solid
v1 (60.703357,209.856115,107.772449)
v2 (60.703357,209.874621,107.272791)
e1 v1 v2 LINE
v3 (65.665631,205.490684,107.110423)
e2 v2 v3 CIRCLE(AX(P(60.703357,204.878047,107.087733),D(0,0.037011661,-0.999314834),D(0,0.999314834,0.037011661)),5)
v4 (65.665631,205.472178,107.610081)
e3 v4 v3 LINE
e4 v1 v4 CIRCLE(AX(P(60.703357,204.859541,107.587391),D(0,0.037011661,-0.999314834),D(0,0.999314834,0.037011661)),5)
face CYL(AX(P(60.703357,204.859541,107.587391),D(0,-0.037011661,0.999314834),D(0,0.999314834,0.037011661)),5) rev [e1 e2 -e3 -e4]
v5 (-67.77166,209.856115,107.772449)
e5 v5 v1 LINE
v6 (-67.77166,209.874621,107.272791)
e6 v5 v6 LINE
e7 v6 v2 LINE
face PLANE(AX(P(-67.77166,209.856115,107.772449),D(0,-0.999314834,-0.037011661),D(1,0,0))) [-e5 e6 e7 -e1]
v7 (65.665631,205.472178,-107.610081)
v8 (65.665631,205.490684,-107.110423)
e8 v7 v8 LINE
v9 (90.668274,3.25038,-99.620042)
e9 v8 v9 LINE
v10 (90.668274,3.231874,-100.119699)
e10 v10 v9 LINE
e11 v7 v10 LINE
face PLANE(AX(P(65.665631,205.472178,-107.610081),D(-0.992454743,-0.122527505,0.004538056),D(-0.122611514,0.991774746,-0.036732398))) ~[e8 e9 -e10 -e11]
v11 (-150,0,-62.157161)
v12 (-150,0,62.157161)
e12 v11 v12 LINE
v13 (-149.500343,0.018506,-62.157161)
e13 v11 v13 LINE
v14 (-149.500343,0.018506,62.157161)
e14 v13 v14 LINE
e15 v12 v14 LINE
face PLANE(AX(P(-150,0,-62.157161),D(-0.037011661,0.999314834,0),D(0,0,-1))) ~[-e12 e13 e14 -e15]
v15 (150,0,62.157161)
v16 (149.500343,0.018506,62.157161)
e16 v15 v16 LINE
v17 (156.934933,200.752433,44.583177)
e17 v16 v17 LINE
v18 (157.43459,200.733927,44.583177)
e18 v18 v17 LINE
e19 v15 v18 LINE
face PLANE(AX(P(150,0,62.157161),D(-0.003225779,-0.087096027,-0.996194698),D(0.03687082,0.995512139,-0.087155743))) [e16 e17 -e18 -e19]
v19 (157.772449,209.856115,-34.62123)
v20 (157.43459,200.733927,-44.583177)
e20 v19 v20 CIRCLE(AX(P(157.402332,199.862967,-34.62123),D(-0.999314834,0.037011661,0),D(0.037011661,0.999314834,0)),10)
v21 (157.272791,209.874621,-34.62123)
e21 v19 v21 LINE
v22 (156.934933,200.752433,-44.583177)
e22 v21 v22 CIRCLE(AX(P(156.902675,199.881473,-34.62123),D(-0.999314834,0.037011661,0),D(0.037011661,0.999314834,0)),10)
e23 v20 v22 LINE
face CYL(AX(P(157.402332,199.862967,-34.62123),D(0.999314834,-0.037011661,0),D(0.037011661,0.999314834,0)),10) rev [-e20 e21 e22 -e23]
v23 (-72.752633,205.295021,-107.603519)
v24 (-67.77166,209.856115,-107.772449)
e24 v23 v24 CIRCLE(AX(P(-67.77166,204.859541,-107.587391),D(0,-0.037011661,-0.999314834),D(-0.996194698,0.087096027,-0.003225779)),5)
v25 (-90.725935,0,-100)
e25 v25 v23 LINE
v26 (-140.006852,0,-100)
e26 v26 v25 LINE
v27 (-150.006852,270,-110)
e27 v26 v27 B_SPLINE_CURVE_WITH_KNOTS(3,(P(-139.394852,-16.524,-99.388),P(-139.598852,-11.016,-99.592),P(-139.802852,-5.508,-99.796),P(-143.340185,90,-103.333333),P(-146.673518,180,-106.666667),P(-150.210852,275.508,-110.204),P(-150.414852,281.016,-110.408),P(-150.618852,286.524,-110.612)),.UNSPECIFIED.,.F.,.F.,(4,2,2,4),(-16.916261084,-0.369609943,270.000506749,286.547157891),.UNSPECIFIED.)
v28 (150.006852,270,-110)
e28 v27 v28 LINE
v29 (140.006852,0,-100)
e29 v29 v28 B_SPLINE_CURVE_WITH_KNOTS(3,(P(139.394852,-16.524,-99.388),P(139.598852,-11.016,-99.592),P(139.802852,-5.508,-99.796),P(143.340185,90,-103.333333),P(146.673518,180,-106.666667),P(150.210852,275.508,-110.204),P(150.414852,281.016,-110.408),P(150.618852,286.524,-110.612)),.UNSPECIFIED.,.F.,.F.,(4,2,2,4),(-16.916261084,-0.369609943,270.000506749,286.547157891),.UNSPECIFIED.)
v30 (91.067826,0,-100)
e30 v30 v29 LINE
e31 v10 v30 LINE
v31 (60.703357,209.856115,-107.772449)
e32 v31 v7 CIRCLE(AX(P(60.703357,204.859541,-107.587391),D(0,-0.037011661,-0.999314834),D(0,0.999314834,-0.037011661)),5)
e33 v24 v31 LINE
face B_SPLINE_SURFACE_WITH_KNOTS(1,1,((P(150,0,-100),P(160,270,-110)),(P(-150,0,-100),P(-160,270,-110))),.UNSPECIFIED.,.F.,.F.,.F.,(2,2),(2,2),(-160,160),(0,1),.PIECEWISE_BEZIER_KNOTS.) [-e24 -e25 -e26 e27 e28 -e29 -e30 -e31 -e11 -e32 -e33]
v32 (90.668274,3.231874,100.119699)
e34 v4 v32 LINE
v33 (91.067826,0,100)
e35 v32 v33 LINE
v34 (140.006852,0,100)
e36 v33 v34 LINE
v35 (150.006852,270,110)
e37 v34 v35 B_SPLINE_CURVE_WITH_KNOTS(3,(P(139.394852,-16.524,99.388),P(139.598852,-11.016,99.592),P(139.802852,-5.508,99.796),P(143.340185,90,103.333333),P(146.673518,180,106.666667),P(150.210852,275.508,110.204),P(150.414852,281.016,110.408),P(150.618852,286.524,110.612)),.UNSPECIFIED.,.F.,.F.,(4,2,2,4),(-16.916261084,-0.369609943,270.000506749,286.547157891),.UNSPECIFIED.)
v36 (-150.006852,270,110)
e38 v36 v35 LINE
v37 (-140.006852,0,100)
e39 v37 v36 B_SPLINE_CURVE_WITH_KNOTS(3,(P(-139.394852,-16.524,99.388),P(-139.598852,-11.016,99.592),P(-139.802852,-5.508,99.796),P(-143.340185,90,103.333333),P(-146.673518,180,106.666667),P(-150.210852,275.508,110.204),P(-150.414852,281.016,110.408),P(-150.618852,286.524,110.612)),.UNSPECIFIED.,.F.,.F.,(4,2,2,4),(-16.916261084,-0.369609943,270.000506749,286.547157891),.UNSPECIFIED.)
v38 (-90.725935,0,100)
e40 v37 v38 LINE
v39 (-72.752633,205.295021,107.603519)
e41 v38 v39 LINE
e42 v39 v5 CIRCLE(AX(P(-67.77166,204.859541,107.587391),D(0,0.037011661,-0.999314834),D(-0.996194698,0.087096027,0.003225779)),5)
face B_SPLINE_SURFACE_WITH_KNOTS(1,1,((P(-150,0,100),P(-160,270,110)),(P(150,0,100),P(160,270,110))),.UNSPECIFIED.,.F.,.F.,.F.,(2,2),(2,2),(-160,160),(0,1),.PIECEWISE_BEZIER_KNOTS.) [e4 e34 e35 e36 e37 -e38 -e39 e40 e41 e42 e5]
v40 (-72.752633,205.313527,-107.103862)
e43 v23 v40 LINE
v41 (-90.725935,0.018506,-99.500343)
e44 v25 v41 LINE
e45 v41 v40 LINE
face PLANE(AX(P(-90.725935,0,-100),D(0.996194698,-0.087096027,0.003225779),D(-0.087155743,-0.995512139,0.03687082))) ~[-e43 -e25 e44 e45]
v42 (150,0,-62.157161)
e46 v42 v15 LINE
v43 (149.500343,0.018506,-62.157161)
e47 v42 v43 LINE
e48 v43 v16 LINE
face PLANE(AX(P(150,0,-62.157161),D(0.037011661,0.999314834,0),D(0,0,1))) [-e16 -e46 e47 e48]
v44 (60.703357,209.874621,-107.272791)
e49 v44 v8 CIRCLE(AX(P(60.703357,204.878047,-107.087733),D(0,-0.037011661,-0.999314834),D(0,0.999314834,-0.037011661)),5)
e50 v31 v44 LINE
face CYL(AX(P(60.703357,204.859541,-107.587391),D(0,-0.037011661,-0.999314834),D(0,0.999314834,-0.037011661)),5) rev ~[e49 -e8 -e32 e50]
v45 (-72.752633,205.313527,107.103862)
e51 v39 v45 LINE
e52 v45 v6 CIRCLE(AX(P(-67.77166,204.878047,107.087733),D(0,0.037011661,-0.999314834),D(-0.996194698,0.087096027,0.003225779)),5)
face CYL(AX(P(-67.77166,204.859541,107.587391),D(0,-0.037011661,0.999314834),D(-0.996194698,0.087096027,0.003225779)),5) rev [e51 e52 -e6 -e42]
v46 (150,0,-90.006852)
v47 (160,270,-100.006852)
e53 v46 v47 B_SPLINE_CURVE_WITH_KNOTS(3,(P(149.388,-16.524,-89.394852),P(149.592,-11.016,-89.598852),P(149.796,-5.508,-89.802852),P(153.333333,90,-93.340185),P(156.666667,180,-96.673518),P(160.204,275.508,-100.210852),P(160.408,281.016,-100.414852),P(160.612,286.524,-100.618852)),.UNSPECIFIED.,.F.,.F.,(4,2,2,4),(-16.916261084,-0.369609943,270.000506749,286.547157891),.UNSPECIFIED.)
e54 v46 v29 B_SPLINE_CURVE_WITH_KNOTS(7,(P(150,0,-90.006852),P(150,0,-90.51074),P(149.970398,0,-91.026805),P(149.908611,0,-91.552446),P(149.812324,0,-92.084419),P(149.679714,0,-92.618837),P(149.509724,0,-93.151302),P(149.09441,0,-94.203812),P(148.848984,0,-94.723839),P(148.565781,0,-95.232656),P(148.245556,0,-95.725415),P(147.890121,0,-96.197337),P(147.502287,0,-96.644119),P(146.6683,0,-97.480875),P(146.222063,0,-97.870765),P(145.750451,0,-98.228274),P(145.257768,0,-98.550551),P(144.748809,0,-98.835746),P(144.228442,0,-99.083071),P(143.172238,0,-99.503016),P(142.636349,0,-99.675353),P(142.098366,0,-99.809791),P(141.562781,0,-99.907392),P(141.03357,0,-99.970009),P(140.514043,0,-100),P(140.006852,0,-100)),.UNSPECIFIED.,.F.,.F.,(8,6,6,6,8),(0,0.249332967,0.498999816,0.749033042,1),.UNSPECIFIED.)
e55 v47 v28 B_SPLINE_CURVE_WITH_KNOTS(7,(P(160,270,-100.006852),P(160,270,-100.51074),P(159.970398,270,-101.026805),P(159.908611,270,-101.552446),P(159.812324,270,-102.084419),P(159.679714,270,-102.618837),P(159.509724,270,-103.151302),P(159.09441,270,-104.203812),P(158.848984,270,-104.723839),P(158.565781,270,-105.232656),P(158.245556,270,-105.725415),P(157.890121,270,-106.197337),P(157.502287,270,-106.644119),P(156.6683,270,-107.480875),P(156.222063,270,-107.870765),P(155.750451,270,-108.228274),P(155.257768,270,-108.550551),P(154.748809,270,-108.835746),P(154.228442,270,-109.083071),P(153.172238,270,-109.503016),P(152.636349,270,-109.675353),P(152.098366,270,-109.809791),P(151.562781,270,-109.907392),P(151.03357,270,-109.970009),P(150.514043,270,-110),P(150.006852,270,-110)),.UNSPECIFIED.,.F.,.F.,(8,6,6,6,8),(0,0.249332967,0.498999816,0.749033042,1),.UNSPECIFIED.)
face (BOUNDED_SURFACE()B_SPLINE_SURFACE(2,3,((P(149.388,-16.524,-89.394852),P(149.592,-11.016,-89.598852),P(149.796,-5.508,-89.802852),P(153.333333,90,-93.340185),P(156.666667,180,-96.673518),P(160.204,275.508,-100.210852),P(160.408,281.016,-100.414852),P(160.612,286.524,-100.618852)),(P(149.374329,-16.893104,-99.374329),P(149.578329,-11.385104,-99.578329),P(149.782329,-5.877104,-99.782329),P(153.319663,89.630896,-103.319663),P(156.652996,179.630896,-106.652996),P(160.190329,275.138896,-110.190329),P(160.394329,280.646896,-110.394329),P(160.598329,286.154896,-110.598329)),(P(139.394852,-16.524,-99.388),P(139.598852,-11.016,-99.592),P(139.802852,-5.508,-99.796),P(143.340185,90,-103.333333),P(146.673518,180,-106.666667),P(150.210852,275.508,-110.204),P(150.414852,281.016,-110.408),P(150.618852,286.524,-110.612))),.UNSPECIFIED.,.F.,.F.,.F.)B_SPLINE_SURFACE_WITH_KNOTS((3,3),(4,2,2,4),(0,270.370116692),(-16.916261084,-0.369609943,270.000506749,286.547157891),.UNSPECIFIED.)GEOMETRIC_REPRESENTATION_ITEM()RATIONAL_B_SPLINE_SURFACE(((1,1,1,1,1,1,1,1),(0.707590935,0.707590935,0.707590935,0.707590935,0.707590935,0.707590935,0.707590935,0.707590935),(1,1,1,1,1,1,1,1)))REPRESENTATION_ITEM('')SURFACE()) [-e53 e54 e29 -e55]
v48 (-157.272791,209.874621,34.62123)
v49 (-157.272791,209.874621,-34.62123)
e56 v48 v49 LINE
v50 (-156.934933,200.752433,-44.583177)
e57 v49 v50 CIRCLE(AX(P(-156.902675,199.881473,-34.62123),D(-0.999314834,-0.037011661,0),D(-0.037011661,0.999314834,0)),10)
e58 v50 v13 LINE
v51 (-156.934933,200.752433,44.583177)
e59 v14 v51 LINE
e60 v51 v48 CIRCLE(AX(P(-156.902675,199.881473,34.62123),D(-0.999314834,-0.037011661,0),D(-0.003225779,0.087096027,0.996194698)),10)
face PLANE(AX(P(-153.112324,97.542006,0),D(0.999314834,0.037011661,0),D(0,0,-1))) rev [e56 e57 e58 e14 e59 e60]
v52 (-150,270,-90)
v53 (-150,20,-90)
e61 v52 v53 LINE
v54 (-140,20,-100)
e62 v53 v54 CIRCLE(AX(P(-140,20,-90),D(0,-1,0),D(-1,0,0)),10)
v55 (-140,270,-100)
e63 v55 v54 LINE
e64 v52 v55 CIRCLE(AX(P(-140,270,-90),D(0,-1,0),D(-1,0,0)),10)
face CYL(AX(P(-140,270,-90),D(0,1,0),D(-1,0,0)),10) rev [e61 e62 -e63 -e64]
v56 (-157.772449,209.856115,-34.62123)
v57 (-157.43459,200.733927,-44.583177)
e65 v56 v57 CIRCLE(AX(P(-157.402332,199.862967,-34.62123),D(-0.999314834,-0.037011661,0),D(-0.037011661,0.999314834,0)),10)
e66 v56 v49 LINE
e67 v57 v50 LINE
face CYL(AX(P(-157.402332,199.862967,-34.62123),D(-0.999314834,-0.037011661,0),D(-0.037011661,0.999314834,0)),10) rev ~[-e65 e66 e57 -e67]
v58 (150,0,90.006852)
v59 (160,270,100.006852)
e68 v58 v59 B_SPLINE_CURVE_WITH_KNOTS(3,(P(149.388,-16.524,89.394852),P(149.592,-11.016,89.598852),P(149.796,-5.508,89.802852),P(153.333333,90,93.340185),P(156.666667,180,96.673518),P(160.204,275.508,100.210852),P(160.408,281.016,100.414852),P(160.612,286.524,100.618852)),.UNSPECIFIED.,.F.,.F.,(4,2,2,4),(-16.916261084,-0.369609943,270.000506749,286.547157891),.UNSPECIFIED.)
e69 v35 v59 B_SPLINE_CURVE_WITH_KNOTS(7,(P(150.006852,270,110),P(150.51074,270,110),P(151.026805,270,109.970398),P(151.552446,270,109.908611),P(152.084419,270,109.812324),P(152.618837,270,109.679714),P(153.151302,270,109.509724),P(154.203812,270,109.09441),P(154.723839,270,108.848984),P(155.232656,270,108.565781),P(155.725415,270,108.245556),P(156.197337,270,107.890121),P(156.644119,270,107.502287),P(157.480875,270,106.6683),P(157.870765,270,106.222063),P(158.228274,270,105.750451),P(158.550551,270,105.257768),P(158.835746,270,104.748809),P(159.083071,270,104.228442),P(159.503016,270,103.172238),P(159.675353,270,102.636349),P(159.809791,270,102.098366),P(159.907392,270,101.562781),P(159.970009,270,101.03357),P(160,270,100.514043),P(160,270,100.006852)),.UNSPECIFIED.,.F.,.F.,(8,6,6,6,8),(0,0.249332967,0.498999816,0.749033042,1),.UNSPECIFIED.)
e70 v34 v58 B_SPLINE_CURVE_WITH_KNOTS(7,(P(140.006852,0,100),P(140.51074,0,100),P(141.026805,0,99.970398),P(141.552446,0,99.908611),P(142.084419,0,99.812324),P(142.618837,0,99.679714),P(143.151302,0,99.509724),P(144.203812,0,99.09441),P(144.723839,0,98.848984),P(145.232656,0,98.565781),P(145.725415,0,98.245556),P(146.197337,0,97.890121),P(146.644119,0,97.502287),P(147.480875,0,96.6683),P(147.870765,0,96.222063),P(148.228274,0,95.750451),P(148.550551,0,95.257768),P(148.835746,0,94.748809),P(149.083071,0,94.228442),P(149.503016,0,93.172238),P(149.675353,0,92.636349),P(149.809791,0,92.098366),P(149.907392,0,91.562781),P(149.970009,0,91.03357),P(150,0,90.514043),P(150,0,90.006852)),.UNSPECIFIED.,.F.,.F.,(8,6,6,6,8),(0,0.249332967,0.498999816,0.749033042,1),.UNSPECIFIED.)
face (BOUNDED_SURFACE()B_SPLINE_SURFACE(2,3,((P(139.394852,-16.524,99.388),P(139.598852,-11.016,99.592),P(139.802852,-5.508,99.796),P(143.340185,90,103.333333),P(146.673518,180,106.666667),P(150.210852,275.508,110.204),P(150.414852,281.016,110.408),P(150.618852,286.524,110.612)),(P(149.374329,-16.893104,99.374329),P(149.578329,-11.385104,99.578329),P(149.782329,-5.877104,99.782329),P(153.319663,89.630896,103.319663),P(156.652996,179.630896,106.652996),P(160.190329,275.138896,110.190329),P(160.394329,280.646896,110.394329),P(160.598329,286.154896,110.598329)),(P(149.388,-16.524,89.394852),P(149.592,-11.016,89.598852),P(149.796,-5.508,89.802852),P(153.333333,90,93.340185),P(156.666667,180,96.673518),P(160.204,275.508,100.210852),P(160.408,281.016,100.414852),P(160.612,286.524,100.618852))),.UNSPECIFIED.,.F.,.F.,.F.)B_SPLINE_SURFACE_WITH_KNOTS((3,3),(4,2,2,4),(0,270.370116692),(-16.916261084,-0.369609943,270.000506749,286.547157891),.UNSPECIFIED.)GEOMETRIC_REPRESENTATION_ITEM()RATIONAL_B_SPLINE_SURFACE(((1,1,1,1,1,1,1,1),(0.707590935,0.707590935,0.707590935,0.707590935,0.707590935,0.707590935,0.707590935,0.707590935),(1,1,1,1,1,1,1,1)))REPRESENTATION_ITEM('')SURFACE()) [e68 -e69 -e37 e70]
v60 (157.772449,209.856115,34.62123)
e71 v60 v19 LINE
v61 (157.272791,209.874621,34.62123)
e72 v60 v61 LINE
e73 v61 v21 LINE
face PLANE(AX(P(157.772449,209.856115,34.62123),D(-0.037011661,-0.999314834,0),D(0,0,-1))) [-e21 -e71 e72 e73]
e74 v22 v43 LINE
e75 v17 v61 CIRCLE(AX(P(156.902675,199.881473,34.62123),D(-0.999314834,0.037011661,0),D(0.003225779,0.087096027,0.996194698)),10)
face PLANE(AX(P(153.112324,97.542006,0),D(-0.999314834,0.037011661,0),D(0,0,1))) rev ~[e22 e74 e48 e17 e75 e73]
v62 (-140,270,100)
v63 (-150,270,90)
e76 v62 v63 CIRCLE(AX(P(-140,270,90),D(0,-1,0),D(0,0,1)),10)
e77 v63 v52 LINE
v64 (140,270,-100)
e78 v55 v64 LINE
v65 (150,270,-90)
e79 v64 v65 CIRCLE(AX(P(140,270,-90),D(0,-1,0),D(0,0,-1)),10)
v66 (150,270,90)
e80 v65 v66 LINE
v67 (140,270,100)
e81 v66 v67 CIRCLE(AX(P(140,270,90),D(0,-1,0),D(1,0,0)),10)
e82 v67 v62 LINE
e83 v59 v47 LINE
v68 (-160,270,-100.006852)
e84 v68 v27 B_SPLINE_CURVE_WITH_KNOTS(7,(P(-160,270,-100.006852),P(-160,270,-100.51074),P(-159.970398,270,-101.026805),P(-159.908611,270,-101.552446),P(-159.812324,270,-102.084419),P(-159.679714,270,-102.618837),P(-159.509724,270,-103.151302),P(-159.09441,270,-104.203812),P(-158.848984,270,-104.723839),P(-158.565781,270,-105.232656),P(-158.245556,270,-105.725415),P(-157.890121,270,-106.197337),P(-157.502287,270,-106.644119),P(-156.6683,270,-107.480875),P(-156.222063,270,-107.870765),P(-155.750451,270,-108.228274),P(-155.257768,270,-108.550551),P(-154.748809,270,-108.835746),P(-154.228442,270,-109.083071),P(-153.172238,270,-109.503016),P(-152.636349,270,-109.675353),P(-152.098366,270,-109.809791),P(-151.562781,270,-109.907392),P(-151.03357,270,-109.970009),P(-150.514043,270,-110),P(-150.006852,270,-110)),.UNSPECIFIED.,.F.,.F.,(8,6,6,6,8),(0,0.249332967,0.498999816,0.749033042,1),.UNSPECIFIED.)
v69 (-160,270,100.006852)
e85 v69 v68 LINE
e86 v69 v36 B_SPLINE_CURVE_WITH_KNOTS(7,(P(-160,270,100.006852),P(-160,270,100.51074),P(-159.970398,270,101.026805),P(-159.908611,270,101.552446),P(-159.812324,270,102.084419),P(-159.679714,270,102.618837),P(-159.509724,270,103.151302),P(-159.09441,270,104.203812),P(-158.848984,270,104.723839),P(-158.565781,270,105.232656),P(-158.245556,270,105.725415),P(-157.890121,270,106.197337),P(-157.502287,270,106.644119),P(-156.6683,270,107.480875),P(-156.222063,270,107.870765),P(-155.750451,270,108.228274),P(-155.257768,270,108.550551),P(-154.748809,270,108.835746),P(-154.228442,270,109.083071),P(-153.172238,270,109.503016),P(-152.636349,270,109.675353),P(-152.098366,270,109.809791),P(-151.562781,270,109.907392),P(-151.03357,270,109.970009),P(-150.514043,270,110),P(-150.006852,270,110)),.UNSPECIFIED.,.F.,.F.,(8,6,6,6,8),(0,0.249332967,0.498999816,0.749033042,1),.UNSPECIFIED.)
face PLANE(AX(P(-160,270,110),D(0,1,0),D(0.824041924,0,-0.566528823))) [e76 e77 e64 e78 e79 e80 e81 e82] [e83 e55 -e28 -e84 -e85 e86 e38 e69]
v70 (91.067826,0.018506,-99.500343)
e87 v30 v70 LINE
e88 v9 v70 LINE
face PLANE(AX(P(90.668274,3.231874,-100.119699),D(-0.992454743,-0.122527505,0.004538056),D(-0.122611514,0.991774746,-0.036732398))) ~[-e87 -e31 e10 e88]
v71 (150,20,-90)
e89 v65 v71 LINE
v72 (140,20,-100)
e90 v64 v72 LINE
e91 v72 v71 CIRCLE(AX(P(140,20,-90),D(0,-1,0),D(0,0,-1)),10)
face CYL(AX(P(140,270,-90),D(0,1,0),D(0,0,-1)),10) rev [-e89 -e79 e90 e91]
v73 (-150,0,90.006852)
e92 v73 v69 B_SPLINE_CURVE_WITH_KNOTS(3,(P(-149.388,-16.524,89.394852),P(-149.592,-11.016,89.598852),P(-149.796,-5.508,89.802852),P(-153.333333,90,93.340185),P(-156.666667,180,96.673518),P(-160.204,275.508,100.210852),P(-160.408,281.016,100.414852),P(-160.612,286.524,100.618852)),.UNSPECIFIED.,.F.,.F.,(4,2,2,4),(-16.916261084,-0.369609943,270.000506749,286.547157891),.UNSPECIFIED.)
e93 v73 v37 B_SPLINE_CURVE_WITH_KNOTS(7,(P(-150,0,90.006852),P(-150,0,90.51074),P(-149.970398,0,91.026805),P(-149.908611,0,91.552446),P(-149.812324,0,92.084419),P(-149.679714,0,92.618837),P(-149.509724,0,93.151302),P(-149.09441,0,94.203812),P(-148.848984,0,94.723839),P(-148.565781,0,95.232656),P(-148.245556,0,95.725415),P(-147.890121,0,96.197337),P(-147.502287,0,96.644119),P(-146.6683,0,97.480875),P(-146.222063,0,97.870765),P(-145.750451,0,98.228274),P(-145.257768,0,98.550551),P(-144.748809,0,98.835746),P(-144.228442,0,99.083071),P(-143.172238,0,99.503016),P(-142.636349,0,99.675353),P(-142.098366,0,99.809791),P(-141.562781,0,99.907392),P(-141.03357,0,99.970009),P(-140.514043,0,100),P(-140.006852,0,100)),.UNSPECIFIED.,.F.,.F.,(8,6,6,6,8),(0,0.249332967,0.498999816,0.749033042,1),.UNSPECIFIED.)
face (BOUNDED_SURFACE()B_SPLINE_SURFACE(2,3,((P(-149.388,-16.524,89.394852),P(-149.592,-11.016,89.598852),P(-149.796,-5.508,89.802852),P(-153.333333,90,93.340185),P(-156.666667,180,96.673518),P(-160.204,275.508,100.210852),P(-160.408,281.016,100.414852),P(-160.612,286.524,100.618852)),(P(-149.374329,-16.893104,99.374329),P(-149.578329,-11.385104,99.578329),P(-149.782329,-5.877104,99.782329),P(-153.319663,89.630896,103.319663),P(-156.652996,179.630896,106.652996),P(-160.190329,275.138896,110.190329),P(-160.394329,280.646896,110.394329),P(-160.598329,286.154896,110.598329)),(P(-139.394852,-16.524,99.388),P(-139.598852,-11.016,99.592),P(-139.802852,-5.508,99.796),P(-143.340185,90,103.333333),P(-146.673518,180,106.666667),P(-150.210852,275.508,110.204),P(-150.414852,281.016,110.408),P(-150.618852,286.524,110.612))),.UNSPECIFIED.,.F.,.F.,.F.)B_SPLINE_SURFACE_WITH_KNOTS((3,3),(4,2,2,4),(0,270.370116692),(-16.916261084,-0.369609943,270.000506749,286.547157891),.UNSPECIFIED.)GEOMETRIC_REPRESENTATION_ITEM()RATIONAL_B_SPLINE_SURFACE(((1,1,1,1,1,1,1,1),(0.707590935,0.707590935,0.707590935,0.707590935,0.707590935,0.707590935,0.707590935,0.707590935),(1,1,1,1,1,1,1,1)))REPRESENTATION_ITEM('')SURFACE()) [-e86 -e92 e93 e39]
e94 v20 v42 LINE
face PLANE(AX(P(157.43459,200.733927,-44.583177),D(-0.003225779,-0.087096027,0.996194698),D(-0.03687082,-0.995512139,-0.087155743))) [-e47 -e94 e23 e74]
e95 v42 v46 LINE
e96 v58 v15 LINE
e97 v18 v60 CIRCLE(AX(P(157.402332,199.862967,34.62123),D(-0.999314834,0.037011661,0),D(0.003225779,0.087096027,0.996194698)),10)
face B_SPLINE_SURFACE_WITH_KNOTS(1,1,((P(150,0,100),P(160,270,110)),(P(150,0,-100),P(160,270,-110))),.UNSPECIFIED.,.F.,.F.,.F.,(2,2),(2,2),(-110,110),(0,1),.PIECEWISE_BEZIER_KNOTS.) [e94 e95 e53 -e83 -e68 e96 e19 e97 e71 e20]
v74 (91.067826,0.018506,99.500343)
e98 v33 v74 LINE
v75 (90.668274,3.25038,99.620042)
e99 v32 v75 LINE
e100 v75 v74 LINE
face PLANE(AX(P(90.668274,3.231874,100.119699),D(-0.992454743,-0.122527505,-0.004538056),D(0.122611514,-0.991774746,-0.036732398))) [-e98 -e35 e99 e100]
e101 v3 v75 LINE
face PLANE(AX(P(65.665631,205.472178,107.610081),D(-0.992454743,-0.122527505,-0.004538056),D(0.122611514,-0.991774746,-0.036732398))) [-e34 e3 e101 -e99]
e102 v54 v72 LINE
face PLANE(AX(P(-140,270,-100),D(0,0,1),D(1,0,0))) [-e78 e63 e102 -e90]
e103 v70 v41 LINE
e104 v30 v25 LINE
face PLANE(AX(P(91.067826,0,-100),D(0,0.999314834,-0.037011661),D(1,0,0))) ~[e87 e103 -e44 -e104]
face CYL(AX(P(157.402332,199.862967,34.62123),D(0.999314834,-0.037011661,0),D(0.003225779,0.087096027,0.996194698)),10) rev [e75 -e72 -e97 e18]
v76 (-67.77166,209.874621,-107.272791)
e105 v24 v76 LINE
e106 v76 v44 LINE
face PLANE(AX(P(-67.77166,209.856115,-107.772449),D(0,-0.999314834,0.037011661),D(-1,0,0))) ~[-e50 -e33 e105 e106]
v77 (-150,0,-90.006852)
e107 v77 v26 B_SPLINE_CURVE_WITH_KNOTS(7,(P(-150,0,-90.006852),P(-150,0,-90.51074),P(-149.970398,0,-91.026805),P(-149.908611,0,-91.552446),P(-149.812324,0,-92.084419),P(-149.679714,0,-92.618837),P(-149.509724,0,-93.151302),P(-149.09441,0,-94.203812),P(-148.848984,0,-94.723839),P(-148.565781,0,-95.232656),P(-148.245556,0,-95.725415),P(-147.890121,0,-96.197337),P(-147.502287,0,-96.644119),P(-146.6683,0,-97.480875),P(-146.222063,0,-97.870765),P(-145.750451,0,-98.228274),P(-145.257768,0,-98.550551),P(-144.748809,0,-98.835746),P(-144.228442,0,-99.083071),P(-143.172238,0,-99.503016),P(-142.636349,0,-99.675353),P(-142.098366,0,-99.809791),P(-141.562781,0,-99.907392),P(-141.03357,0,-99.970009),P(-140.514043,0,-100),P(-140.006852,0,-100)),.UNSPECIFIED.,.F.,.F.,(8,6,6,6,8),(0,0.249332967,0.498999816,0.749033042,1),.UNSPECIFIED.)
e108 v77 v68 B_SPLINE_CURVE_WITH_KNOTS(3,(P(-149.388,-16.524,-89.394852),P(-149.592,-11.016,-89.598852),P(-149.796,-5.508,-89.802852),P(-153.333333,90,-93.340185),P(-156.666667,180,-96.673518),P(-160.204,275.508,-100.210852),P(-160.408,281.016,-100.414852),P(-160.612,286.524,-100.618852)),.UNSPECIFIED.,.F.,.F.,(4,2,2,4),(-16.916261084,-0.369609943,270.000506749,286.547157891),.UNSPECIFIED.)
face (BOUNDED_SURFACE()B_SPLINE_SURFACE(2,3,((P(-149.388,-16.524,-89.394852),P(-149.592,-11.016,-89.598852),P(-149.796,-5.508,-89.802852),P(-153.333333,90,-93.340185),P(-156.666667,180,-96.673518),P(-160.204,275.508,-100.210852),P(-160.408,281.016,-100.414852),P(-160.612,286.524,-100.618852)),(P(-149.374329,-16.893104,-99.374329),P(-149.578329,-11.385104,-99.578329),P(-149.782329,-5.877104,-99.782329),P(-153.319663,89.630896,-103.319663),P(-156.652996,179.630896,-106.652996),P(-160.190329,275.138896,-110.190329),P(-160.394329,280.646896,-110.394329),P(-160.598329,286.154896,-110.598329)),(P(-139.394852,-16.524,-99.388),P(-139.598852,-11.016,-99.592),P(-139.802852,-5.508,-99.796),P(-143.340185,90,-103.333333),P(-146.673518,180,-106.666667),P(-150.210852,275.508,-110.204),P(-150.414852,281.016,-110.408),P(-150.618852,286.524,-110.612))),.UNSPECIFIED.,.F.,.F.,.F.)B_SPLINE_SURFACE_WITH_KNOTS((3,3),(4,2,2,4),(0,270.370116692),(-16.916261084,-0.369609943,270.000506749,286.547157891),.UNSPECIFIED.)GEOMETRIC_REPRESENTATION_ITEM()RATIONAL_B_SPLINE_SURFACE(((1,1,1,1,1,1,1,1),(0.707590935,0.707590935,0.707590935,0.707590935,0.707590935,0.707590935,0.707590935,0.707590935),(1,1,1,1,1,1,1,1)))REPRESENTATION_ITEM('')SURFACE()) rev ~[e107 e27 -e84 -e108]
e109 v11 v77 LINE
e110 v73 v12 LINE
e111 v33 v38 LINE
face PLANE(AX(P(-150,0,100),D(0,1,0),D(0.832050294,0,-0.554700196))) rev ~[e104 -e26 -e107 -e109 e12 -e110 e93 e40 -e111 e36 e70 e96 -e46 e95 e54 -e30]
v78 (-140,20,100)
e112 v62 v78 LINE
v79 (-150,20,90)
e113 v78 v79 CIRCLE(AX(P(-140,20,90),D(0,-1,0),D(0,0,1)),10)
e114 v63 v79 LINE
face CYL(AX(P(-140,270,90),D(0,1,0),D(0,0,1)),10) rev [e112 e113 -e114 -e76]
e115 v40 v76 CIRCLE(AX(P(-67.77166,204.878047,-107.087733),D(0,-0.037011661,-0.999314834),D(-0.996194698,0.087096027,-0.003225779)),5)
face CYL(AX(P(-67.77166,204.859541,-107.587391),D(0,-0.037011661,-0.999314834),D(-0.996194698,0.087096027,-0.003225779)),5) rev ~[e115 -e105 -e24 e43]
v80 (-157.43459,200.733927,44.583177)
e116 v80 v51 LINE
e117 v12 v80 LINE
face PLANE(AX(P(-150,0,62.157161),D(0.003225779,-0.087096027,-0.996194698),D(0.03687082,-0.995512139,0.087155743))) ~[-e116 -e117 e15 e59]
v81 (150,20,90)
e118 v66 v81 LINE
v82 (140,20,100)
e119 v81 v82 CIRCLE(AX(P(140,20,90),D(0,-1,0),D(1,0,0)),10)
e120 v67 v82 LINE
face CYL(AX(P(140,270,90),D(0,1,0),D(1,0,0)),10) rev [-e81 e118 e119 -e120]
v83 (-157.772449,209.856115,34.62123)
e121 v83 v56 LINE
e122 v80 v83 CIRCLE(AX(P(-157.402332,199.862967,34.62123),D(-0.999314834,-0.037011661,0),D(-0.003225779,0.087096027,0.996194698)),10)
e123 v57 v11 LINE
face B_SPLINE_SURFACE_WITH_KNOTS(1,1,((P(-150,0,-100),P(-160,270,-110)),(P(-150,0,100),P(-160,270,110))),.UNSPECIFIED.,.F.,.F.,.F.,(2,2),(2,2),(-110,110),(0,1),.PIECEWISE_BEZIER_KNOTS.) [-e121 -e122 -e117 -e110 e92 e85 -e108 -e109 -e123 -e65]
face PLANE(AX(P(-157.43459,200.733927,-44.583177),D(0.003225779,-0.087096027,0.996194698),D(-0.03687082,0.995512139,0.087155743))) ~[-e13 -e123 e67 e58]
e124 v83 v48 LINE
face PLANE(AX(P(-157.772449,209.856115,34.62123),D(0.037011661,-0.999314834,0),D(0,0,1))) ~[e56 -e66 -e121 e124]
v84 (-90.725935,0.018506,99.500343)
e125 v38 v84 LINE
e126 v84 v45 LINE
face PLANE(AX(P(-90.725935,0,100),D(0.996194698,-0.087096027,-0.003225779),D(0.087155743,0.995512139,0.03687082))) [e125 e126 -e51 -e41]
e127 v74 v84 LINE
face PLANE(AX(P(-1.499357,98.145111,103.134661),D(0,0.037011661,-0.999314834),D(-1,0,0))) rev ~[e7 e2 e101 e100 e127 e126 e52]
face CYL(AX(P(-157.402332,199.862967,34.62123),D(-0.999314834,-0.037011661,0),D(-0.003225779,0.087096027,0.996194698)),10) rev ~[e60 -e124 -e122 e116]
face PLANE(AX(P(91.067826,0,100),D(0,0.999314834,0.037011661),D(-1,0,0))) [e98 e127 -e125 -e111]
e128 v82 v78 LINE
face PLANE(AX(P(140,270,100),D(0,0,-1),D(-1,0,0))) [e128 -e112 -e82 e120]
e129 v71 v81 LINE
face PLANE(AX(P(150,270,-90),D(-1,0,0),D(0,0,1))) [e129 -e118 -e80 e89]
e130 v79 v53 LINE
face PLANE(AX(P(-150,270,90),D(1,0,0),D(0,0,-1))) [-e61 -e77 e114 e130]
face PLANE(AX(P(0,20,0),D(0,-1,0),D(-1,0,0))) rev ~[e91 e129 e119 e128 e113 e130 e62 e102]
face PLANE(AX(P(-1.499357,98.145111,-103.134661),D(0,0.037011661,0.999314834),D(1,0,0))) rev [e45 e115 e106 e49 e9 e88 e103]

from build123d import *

# Parameters (mm, degrees)
SKETCH1_W          = 300
SKETCH1_H          = 200
SKETCH2_W          = 320
SKETCH2_H          = 220
FILLET1_R          = 10
CUT_EXTRUDE1_DEPTH = 250
CUT_EXTRUDE3_DEPTH = 0.5
CUT_EXTRUDE4_DEPTH = 0.5


with BuildPart() as part:
    # Sketch1 → Loft1 section 0
    with BuildSketch(Plane(origin=(0, 0, 0), x_dir=(1, 0, 0), z_dir=(0, 1, 0))):
        Rectangle(SKETCH1_W, SKETCH1_H)
    # Sketch2 → Loft1 section 1
    with BuildSketch(Plane(origin=(0, 270, 0), x_dir=(1, 0, 0), z_dir=(0, 1, 0))):
        Rectangle(SKETCH2_W, SKETCH2_H)
    loft()

    # Fillet1
    fillet1_edges = [part.edges().sort_by_distance(p)[0] for p in [
        (155, 135, -105),
        (155, 135, 105),
        (-155, 135, 105),
        (-155, 135, -105),
    ]]
    fillet(fillet1_edges, radius=FILLET1_R)

    # Sketch3 → Cut-Extrude1 (cut)
    with BuildSketch(Plane(origin=(0, 270, 0), x_dir=(1, 0, 0), z_dir=(0, 1, 0))):
        with BuildLine():
            Line((-140, 100), (140, 100))
            ThreePointArc((140, 100), (147.071067812, 97.071067812), (150, 90))
            Line((150, 90), (150, -90))
            ThreePointArc((150, -90), (147.071067812, -97.071067812), (140, -100))
            Line((140, -100), (-140, -100))
            ThreePointArc((-140, -100), (-147.071067812, -97.071067812), (-150, -90))
            Line((-150, -90), (-150, 90))
            ThreePointArc((-150, 90), (-147.071067812, 97.071067812), (-140, 100))
        make_face()
    extrude(amount=-CUT_EXTRUDE1_DEPTH, mode=Mode.SUBTRACT)

    # Sketch4 → Cut-Extrude3 (cut)
    with BuildSketch(Plane(origin=(0, -3.698630137, 99.863013699), x_dir=(1, 0, 0), z_dir=(0, -0.037011661, 0.999314834))):
        with BuildLine():
            Line((-90.72593498, 3.701166051), (-72.75263326, 209.136944765))
            ThreePointArc((-72.75263326, 209.136944765), (-71.149610808, 212.387552735), (-67.77165977, 213.701166051))
            Line((-67.77165977, 213.701166051), (60.703357415, 213.701166051))
            ThreePointArc((60.703357415, 213.701166051), (64.015057291, 212.447183126), (65.665631129, 209.314223623))
            Line((65.665631129, 209.314223623), (90.668274157, 6.935256238))
            Line((90.668274157, 6.935256238), (91.067825571, 3.701166051))
            Line((91.067825571, 3.701166051), (-90.72593498, 3.701166051))
        make_face()
    cut_extrude3 = extrude(amount=-CUT_EXTRUDE3_DEPTH, mode=Mode.SUBTRACT)

    # Mirror1: Cut-Extrude3 across plane
    add(cut_extrude3.mirror(Plane.XY), mode=Mode.SUBTRACT)

    # Sketch5 → Cut-Extrude4 (cut)
    with BuildSketch(Plane(origin=(149.794520548, -5.547945205, 0), x_dir=(0, 0, -1), z_dir=(0.999314834, -0.037011661, 0))):
        with BuildLine():
            Line((-62.157161102, 5.551749076), (-44.583177002, 206.423306504))
            ThreePointArc((-44.583177002, 206.423306504), (-41.377132097, 212.924522445), (-34.621230021, 215.551749076))
            Line((-34.621230021, 215.551749076), (34.621230021, 215.551749076))
            ThreePointArc((34.621230021, 215.551749076), (41.377132097, 212.924522445), (44.583177002, 206.423306504))
            Line((44.583177002, 206.423306504), (62.157161102, 5.551749076))
            Line((62.157161102, 5.551749076), (-62.157161102, 5.551749076))
        make_face()
    cut_extrude4 = extrude(amount=-CUT_EXTRUDE4_DEPTH, mode=Mode.SUBTRACT)

    # Mirror2: Cut-Extrude4 across plane
    add(cut_extrude4.mirror(Plane(origin=(0, 0, 0), x_dir=(0, 0, 1), z_dir=(1, 0, 0))), mode=Mode.SUBTRACT)


solid = part.part
